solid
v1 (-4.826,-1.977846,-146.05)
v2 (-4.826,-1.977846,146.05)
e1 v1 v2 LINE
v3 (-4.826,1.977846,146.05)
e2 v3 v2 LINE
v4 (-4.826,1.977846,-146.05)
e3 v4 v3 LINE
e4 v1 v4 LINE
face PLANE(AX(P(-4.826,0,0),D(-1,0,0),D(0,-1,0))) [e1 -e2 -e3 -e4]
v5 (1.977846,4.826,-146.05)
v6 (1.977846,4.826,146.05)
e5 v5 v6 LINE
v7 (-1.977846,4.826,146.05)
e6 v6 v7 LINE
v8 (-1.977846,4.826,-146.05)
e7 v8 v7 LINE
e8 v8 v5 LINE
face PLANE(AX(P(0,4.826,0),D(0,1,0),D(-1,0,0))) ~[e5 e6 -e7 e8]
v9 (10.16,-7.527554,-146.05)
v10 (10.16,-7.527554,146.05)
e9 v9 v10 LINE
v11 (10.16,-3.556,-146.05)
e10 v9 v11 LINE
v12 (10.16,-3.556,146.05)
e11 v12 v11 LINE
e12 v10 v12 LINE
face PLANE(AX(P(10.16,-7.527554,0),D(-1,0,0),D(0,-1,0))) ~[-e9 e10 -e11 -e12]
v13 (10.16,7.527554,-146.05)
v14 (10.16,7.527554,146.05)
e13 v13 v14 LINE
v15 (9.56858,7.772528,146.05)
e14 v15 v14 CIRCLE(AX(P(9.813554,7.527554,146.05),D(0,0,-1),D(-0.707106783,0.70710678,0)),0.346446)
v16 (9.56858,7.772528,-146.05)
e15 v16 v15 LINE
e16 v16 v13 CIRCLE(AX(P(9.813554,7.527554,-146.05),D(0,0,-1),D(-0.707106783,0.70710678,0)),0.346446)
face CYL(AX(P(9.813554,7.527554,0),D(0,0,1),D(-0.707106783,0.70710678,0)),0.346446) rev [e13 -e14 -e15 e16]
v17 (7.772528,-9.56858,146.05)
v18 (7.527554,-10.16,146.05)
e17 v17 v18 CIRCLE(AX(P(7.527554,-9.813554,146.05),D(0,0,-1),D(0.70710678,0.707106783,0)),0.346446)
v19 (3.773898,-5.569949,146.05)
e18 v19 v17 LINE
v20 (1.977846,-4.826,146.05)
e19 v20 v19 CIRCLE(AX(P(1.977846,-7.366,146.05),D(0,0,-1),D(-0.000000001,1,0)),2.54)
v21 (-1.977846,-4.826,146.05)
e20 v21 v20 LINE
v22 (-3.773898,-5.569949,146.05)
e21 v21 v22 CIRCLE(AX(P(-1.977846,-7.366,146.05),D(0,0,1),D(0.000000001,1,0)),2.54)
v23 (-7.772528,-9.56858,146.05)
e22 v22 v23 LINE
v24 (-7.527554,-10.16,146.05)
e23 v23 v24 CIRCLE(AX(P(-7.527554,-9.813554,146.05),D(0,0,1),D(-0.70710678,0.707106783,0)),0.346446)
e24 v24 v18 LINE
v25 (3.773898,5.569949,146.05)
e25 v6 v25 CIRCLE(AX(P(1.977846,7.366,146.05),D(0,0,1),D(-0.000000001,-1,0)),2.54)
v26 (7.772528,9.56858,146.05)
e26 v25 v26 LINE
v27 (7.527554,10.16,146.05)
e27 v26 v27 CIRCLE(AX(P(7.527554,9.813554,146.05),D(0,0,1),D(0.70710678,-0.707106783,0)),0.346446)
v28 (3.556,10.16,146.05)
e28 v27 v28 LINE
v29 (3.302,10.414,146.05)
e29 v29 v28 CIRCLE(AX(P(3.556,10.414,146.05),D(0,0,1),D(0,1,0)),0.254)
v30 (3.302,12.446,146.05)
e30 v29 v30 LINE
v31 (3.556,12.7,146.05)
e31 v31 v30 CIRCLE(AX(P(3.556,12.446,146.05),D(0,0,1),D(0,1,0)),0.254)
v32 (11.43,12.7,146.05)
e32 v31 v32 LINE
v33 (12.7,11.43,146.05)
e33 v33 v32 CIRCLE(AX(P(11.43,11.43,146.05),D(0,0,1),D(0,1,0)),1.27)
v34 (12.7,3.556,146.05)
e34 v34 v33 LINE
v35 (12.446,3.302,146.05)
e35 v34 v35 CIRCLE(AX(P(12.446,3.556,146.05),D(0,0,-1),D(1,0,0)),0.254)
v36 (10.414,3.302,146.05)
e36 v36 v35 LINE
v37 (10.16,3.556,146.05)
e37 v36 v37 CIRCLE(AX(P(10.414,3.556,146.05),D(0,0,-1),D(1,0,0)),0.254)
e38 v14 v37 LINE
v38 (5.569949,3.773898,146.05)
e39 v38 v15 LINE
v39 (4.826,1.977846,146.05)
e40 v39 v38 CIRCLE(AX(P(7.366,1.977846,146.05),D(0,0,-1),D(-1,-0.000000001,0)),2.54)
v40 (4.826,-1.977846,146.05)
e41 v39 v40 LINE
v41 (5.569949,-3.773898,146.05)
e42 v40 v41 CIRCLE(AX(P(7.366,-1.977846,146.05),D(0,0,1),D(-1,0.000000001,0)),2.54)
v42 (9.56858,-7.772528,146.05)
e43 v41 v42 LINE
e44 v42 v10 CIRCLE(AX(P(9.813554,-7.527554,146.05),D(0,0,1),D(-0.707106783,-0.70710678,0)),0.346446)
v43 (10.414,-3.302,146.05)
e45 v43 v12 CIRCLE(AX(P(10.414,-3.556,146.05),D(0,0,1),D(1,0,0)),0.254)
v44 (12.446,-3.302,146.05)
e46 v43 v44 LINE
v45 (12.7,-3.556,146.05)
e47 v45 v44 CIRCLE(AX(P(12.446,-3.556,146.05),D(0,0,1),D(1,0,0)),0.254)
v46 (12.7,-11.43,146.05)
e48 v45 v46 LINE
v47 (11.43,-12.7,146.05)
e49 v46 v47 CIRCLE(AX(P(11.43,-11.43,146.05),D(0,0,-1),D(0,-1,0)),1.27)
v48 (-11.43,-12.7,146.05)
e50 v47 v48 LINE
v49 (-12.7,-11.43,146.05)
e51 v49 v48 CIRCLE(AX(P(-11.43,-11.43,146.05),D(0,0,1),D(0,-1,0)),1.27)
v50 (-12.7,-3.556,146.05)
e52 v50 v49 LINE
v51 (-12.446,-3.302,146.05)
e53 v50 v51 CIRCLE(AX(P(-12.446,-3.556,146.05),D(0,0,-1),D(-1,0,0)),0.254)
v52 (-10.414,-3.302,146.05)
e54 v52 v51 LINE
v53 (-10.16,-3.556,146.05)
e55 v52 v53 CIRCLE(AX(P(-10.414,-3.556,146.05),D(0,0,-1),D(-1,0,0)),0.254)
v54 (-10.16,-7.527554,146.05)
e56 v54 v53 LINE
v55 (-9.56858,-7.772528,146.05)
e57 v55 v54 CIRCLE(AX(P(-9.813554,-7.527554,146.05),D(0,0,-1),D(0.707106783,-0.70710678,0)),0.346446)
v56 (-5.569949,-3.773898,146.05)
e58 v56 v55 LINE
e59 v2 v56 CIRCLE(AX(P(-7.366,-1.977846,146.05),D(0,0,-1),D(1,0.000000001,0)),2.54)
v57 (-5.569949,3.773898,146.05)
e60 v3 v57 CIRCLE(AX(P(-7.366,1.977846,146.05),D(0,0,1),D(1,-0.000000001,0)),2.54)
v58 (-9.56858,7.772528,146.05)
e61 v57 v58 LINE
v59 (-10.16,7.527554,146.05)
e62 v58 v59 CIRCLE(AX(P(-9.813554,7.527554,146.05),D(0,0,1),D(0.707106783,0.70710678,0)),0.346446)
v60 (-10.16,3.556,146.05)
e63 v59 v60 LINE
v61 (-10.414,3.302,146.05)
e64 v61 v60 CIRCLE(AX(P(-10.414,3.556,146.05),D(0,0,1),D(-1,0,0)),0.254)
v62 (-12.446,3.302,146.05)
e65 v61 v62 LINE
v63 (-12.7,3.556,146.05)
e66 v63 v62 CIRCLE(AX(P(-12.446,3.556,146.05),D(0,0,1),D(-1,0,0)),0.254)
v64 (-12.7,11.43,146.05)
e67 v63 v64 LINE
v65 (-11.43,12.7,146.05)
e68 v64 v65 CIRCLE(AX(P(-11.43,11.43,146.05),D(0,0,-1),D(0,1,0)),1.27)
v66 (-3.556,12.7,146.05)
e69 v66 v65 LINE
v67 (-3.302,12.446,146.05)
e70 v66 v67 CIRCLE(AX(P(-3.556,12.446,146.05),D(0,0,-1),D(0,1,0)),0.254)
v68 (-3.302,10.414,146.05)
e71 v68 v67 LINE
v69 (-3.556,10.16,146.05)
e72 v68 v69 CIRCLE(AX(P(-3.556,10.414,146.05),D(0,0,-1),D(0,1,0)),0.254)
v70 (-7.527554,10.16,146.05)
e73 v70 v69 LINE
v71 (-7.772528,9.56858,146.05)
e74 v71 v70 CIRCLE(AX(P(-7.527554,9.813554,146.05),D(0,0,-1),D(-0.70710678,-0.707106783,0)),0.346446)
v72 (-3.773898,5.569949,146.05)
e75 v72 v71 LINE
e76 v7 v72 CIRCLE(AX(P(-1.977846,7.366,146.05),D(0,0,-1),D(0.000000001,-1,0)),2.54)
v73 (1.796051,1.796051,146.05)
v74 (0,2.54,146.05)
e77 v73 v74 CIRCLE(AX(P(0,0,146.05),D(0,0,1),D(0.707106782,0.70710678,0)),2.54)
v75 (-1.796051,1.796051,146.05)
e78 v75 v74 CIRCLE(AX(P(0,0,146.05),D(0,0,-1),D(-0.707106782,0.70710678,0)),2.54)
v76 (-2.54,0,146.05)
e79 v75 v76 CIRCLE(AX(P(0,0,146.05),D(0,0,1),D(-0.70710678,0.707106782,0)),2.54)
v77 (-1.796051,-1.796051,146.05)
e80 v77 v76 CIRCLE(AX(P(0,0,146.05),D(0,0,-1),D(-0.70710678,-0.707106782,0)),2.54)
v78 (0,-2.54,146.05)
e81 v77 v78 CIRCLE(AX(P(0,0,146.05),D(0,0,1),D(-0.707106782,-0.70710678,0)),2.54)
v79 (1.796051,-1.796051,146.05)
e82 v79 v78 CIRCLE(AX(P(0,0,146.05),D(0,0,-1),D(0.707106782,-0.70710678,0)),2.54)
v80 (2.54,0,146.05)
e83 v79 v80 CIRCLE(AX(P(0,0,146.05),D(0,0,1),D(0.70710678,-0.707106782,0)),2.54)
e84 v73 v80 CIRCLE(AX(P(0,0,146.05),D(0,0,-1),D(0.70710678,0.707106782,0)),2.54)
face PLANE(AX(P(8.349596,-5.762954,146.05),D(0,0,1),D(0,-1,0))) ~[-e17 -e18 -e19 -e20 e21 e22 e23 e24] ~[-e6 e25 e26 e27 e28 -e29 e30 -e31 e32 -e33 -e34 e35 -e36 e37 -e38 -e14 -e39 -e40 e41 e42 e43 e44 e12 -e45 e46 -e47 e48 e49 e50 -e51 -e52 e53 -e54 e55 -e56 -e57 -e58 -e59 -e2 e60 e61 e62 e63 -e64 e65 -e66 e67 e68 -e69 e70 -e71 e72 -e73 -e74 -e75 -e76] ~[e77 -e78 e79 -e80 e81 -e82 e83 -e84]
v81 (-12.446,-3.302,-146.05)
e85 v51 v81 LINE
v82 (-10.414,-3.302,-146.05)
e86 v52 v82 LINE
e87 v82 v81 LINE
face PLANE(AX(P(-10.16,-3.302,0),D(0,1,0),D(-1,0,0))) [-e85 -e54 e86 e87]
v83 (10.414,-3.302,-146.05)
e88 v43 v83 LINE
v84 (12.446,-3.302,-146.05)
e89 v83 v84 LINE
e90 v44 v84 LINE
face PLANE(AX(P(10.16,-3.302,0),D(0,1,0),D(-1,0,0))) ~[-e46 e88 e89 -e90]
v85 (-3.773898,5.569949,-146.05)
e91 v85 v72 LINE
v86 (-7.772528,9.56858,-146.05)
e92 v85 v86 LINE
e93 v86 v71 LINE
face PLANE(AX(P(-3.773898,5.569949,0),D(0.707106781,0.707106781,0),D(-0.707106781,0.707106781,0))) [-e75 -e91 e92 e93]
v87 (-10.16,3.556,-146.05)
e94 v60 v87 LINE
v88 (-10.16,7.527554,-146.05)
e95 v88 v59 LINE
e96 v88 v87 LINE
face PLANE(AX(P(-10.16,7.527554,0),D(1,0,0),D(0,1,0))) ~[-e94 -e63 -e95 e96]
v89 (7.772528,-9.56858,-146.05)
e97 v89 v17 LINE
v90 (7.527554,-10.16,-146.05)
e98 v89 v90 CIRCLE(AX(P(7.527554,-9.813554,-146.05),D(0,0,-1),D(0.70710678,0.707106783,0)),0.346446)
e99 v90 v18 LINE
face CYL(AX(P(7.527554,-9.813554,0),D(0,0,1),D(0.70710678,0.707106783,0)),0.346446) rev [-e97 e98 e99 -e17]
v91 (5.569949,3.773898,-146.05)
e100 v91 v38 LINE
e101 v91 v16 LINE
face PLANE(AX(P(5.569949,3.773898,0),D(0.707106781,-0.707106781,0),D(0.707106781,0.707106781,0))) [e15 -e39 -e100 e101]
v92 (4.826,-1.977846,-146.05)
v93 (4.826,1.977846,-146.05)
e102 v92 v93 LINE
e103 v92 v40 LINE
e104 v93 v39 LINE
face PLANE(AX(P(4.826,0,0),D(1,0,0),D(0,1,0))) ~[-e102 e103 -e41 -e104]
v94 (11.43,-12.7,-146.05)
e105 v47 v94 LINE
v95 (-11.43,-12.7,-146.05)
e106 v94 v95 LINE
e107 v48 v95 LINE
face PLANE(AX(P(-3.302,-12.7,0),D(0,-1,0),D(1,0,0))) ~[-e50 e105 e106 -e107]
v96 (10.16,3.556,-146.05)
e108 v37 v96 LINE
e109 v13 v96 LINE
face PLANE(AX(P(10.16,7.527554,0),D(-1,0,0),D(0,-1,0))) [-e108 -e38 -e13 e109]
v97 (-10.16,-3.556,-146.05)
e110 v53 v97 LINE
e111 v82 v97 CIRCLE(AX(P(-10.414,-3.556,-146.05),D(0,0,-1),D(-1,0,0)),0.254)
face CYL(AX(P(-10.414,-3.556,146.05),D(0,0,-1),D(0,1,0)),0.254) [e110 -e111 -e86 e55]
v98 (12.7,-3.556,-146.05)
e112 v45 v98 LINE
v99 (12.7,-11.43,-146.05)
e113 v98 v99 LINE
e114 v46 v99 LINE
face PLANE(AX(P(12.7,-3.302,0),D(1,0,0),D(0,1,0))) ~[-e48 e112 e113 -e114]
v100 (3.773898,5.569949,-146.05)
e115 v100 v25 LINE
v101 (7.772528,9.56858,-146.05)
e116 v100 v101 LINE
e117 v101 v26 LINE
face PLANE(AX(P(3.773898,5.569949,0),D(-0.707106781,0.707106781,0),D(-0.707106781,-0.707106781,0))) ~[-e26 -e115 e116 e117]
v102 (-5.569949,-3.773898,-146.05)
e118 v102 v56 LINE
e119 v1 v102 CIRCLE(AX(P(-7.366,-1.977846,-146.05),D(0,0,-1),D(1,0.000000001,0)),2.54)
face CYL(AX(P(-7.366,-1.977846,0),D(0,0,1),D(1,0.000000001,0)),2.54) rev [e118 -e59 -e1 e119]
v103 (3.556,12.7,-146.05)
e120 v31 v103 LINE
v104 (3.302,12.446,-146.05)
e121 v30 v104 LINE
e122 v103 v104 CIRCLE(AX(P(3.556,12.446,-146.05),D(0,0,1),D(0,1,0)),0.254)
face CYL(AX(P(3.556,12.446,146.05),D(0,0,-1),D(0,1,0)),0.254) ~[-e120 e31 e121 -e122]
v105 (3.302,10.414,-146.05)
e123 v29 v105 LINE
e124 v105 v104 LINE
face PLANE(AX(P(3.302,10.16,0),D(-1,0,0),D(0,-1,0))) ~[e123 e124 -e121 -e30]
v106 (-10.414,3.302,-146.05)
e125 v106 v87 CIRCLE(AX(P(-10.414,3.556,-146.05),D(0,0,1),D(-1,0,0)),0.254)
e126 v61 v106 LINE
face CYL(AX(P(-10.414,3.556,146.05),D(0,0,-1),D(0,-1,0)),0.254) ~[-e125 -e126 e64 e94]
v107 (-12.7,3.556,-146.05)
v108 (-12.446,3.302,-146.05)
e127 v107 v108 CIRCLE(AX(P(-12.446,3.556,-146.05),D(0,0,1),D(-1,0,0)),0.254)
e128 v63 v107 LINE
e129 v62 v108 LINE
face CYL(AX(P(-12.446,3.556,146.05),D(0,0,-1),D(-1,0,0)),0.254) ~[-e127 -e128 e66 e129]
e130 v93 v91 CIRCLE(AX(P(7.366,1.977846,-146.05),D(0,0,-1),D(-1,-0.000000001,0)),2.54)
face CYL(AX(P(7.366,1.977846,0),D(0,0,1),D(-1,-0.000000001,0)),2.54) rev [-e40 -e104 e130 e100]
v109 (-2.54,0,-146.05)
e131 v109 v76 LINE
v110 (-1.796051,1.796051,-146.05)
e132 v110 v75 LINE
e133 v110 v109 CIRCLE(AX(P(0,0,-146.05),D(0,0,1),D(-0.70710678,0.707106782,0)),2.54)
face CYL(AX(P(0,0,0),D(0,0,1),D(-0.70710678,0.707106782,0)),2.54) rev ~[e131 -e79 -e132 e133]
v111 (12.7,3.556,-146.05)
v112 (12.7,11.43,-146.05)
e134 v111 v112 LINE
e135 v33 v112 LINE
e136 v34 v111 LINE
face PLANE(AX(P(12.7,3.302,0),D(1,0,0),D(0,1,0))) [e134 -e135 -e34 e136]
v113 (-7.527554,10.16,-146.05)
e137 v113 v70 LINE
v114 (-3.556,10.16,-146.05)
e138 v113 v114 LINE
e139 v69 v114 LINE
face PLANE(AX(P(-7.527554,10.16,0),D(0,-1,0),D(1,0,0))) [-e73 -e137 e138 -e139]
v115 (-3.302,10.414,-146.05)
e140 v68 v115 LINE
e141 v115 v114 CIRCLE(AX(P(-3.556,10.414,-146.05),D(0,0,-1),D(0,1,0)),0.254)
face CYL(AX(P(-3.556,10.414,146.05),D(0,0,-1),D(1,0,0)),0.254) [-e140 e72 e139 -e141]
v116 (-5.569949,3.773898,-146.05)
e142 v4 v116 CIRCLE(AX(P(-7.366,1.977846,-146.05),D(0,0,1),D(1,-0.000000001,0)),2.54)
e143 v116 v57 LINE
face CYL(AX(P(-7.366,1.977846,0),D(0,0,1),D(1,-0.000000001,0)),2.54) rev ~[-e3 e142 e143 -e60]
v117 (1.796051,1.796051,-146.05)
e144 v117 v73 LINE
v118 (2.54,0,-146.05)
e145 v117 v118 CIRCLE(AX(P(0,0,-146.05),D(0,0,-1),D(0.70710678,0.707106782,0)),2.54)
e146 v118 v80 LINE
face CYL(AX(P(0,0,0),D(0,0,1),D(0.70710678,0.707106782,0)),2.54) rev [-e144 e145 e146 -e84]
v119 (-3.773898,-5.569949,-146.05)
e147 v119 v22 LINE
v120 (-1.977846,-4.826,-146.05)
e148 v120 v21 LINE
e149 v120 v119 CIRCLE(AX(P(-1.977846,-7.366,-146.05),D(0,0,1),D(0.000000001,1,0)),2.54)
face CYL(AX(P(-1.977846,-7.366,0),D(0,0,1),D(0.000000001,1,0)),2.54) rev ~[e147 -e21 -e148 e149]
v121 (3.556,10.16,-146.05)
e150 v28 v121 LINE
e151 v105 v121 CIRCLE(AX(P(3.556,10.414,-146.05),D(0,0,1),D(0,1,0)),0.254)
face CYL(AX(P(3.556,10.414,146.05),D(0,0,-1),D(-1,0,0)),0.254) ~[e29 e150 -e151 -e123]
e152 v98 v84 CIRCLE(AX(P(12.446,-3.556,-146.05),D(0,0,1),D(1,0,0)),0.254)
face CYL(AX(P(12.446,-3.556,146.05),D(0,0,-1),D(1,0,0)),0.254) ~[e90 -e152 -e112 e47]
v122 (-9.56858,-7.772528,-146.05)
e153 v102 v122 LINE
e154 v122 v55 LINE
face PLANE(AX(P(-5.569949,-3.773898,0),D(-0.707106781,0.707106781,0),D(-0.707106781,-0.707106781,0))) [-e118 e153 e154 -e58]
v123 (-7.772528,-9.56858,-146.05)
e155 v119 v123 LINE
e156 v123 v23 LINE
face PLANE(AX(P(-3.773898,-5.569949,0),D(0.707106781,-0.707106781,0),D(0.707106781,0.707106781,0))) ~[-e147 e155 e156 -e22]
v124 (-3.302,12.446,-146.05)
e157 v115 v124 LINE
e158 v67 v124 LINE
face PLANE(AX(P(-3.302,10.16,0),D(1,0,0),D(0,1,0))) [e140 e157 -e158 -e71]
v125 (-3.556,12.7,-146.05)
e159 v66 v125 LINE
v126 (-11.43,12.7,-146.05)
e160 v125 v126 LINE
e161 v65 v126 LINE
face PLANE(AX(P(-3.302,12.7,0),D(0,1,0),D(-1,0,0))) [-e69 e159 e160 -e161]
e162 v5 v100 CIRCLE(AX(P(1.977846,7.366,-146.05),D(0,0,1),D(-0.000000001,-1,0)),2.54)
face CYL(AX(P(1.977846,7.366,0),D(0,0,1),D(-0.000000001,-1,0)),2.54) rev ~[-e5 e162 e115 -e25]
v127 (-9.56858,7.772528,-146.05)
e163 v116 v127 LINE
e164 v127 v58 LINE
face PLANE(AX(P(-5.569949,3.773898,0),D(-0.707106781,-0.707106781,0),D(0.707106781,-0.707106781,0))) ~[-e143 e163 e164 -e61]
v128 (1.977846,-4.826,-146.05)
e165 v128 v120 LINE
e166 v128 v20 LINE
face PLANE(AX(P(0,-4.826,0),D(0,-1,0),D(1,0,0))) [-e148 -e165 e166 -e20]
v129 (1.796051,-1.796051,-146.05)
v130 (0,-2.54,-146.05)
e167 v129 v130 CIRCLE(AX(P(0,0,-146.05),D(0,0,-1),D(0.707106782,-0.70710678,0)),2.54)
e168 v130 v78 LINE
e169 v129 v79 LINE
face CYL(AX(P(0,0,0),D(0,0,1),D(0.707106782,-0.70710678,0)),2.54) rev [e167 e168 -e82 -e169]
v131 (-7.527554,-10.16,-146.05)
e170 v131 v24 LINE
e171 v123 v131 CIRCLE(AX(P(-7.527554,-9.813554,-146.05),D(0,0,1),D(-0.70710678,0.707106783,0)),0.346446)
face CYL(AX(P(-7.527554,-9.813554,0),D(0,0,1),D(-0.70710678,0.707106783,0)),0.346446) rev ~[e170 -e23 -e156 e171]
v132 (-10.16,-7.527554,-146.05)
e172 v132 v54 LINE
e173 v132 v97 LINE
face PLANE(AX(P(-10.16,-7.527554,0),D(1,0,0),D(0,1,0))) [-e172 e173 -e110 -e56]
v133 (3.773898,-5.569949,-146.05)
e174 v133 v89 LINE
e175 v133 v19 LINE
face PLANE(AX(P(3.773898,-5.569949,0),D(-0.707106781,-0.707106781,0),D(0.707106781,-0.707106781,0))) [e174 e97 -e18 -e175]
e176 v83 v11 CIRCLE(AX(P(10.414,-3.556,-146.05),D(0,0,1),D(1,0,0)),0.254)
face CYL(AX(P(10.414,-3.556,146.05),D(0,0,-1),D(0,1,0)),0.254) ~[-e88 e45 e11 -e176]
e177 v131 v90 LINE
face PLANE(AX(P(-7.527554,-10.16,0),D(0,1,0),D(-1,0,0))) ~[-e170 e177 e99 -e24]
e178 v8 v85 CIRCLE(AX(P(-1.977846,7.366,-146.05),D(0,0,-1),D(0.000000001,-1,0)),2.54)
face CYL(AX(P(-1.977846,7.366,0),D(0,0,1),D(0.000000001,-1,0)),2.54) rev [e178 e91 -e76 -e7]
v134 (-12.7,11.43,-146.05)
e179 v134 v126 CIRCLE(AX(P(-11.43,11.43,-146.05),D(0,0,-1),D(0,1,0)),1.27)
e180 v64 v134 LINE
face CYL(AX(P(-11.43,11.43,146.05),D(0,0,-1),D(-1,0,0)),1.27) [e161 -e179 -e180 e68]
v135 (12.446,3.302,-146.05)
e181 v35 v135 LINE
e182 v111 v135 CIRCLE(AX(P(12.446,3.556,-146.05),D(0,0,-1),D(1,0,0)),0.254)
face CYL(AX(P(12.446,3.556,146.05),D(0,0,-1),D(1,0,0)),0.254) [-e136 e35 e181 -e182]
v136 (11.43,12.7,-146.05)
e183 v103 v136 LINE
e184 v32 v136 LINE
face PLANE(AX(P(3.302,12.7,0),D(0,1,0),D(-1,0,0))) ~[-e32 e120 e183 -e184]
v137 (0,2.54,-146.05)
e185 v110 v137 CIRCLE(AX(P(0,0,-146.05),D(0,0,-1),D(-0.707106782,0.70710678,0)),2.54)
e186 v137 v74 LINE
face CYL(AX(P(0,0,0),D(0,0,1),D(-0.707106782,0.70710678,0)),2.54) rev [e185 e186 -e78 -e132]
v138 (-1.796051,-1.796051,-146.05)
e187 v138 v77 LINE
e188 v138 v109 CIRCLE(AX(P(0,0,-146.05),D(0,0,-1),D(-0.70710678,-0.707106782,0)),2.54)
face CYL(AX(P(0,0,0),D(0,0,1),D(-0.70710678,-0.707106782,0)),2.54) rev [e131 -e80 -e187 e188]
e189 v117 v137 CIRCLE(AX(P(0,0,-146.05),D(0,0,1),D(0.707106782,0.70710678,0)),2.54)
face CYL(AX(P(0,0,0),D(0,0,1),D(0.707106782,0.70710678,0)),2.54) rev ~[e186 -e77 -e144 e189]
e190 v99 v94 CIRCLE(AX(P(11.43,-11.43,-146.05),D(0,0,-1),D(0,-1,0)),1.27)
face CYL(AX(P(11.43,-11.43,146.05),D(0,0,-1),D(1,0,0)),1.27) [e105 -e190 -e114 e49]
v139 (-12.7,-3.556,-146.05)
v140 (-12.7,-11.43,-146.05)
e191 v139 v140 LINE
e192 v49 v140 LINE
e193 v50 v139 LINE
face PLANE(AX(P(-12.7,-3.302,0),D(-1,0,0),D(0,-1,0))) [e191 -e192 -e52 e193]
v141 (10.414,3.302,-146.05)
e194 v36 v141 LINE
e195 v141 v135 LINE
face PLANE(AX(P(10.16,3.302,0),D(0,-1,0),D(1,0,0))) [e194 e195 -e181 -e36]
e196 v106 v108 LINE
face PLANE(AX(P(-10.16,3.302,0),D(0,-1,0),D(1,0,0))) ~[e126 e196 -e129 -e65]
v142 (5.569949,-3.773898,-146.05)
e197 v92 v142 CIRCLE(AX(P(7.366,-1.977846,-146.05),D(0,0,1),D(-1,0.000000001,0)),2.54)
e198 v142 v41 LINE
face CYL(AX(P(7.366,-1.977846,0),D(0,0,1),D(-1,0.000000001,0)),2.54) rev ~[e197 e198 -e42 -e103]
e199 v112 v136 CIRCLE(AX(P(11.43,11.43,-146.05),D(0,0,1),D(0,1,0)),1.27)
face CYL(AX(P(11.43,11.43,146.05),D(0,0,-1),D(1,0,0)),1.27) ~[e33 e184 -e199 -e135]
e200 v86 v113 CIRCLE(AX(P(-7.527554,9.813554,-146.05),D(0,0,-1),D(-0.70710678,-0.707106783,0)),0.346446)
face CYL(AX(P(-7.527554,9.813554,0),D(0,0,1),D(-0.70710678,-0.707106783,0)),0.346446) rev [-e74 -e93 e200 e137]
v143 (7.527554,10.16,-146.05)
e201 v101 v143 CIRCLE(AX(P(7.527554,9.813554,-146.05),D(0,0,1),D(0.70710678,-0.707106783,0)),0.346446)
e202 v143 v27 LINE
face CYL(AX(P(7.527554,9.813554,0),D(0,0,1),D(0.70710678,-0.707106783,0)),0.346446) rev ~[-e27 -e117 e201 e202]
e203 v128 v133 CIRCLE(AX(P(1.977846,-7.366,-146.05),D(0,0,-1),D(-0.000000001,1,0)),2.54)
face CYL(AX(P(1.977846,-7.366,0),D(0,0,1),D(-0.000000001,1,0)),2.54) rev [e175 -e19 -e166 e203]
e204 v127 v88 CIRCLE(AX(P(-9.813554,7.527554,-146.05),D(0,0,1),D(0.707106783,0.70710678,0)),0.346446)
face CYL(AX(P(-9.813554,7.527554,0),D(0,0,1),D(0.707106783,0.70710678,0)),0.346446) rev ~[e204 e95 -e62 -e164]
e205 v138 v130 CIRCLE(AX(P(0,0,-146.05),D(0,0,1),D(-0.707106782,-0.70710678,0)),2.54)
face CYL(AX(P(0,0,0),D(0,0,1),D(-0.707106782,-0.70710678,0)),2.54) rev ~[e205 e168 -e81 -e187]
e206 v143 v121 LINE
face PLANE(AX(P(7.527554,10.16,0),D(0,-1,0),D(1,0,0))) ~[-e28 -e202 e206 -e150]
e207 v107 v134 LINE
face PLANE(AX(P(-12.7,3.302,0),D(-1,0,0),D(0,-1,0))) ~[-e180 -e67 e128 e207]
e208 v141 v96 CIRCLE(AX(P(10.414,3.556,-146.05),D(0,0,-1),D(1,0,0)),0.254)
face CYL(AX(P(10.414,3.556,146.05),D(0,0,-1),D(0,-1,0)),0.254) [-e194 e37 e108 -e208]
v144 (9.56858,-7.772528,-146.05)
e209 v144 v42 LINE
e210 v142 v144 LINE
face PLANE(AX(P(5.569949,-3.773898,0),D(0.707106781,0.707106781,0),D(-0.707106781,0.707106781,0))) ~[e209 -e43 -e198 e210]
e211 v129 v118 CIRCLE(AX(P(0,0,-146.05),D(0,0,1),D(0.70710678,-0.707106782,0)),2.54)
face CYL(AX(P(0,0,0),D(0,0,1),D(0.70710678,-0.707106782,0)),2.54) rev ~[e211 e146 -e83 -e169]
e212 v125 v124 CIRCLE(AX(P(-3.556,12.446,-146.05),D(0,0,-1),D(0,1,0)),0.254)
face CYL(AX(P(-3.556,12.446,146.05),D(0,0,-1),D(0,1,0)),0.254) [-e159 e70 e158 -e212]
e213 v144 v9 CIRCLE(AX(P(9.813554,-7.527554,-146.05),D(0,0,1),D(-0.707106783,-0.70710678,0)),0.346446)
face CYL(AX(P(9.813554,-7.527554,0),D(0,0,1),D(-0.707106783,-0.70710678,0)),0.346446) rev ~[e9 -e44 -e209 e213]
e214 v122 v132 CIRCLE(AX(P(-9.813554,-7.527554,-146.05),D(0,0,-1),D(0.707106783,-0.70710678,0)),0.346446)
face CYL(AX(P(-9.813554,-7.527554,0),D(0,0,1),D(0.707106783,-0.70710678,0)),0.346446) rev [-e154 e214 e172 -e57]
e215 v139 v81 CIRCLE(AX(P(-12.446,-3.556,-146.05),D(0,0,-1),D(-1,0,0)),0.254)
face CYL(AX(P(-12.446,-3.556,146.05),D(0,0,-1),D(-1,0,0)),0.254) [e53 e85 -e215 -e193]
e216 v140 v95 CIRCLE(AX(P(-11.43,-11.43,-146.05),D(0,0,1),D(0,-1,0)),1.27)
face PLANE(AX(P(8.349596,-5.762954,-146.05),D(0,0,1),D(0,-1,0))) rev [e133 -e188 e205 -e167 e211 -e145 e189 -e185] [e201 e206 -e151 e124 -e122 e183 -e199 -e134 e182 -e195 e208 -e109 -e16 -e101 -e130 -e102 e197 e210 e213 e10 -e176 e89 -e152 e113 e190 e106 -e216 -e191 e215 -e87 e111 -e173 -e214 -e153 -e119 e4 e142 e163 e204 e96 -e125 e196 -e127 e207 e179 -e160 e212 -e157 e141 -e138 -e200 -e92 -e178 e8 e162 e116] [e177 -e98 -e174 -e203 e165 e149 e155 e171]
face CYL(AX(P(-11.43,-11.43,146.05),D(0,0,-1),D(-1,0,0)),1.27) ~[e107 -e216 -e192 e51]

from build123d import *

# Parameters (mm, degrees)
BOSS_EXTRUDE1_DEPTH = 146.05
FILLET2_R           = 0.254
FILLET1_R           = 1.27
SKETCH5_W           = 7.112
SKETCH5_H           = 2.54
BOSS_EXTRUDE2_DEPTH = 292.1


with BuildPart() as part:
    # Sketch3 → Boss-Extrude1 (new body, symmetric)
    with BuildSketch(Plane.XY):
        with BuildLine():
            Line((-12.7, 12.7), (-1.796051224, 1.796051224))
            ThreePointArc((-1.796051224, 1.796051224), (-0.972015918, 2.346654013), (0, 2.54))
            Line((0, 2.54), (0, 4.826))
            Line((0, 4.826), (-1.977846327, 4.826))
            ThreePointArc((-1.977846327, 4.826), (-2.949862246, 5.019345987), (-3.773897552, 5.569948776))
            Line((-3.773897552, 5.569948776), (-7.772528286, 9.56857951))
            ThreePointArc((-7.772528286, 9.56857951), (-7.847628361, 9.946133082), (-7.527553898, 10.16))
            Line((-7.527553898, 10.16), (-3.302, 10.16))
            Line((-3.302, 10.16), (-3.302, 12.7))
            Line((-3.302, 12.7), (-12.7, 12.7))
        make_face()
    extrude(amount=BOSS_EXTRUDE1_DEPTH, both=True)

    # Fillet2
    fillet2_edges = [part.edges().sort_by_distance(p)[0] for p in [
        (-3.302, 12.7, 0),
        (-3.302, 10.16, 0),
    ]]
    fillet(fillet2_edges, radius=FILLET2_R)

    # Mirror1: part across plane


with BuildPart() as part_1:
    add(part.part)
    add(part.part.mirror(Plane(origin=(0, 0, 146.05), x_dir=(0, 0, 1), z_dir=(0.707106781, 0.707106781, 0))))

    # Fillet1
    fillet1_edges = [part_1.edges().sort_by_distance(p)[0] for p in [
        (-12.7, 12.7, 0),
    ]]
    fillet(fillet1_edges, radius=FILLET1_R)

    # Mirror2: part across plane


with BuildPart() as part_2:
    add(part_1.part)
    add(part_1.part.mirror(Plane(origin=(0, 0, 146.05), x_dir=(0, 0, 1), z_dir=(0, 1, 0))))

    # Mirror5: part across plane


with BuildPart() as part_3:
    add(part_2.part)
    add(part_2.part.mirror(Plane(origin=(0, 0, 146.05), x_dir=(0, 0, 1), z_dir=(-1, 0, 0))))

    # Sketch5 → Boss-Extrude2 (add, through all)
    with BuildSketch(Plane.XY.offset(146.05)):
        with Locations((0, -11.43)):
            Rectangle(SKETCH5_W, SKETCH5_H)
    extrude(amount=-BOSS_EXTRUDE2_DEPTH)


solid = part_3.part
